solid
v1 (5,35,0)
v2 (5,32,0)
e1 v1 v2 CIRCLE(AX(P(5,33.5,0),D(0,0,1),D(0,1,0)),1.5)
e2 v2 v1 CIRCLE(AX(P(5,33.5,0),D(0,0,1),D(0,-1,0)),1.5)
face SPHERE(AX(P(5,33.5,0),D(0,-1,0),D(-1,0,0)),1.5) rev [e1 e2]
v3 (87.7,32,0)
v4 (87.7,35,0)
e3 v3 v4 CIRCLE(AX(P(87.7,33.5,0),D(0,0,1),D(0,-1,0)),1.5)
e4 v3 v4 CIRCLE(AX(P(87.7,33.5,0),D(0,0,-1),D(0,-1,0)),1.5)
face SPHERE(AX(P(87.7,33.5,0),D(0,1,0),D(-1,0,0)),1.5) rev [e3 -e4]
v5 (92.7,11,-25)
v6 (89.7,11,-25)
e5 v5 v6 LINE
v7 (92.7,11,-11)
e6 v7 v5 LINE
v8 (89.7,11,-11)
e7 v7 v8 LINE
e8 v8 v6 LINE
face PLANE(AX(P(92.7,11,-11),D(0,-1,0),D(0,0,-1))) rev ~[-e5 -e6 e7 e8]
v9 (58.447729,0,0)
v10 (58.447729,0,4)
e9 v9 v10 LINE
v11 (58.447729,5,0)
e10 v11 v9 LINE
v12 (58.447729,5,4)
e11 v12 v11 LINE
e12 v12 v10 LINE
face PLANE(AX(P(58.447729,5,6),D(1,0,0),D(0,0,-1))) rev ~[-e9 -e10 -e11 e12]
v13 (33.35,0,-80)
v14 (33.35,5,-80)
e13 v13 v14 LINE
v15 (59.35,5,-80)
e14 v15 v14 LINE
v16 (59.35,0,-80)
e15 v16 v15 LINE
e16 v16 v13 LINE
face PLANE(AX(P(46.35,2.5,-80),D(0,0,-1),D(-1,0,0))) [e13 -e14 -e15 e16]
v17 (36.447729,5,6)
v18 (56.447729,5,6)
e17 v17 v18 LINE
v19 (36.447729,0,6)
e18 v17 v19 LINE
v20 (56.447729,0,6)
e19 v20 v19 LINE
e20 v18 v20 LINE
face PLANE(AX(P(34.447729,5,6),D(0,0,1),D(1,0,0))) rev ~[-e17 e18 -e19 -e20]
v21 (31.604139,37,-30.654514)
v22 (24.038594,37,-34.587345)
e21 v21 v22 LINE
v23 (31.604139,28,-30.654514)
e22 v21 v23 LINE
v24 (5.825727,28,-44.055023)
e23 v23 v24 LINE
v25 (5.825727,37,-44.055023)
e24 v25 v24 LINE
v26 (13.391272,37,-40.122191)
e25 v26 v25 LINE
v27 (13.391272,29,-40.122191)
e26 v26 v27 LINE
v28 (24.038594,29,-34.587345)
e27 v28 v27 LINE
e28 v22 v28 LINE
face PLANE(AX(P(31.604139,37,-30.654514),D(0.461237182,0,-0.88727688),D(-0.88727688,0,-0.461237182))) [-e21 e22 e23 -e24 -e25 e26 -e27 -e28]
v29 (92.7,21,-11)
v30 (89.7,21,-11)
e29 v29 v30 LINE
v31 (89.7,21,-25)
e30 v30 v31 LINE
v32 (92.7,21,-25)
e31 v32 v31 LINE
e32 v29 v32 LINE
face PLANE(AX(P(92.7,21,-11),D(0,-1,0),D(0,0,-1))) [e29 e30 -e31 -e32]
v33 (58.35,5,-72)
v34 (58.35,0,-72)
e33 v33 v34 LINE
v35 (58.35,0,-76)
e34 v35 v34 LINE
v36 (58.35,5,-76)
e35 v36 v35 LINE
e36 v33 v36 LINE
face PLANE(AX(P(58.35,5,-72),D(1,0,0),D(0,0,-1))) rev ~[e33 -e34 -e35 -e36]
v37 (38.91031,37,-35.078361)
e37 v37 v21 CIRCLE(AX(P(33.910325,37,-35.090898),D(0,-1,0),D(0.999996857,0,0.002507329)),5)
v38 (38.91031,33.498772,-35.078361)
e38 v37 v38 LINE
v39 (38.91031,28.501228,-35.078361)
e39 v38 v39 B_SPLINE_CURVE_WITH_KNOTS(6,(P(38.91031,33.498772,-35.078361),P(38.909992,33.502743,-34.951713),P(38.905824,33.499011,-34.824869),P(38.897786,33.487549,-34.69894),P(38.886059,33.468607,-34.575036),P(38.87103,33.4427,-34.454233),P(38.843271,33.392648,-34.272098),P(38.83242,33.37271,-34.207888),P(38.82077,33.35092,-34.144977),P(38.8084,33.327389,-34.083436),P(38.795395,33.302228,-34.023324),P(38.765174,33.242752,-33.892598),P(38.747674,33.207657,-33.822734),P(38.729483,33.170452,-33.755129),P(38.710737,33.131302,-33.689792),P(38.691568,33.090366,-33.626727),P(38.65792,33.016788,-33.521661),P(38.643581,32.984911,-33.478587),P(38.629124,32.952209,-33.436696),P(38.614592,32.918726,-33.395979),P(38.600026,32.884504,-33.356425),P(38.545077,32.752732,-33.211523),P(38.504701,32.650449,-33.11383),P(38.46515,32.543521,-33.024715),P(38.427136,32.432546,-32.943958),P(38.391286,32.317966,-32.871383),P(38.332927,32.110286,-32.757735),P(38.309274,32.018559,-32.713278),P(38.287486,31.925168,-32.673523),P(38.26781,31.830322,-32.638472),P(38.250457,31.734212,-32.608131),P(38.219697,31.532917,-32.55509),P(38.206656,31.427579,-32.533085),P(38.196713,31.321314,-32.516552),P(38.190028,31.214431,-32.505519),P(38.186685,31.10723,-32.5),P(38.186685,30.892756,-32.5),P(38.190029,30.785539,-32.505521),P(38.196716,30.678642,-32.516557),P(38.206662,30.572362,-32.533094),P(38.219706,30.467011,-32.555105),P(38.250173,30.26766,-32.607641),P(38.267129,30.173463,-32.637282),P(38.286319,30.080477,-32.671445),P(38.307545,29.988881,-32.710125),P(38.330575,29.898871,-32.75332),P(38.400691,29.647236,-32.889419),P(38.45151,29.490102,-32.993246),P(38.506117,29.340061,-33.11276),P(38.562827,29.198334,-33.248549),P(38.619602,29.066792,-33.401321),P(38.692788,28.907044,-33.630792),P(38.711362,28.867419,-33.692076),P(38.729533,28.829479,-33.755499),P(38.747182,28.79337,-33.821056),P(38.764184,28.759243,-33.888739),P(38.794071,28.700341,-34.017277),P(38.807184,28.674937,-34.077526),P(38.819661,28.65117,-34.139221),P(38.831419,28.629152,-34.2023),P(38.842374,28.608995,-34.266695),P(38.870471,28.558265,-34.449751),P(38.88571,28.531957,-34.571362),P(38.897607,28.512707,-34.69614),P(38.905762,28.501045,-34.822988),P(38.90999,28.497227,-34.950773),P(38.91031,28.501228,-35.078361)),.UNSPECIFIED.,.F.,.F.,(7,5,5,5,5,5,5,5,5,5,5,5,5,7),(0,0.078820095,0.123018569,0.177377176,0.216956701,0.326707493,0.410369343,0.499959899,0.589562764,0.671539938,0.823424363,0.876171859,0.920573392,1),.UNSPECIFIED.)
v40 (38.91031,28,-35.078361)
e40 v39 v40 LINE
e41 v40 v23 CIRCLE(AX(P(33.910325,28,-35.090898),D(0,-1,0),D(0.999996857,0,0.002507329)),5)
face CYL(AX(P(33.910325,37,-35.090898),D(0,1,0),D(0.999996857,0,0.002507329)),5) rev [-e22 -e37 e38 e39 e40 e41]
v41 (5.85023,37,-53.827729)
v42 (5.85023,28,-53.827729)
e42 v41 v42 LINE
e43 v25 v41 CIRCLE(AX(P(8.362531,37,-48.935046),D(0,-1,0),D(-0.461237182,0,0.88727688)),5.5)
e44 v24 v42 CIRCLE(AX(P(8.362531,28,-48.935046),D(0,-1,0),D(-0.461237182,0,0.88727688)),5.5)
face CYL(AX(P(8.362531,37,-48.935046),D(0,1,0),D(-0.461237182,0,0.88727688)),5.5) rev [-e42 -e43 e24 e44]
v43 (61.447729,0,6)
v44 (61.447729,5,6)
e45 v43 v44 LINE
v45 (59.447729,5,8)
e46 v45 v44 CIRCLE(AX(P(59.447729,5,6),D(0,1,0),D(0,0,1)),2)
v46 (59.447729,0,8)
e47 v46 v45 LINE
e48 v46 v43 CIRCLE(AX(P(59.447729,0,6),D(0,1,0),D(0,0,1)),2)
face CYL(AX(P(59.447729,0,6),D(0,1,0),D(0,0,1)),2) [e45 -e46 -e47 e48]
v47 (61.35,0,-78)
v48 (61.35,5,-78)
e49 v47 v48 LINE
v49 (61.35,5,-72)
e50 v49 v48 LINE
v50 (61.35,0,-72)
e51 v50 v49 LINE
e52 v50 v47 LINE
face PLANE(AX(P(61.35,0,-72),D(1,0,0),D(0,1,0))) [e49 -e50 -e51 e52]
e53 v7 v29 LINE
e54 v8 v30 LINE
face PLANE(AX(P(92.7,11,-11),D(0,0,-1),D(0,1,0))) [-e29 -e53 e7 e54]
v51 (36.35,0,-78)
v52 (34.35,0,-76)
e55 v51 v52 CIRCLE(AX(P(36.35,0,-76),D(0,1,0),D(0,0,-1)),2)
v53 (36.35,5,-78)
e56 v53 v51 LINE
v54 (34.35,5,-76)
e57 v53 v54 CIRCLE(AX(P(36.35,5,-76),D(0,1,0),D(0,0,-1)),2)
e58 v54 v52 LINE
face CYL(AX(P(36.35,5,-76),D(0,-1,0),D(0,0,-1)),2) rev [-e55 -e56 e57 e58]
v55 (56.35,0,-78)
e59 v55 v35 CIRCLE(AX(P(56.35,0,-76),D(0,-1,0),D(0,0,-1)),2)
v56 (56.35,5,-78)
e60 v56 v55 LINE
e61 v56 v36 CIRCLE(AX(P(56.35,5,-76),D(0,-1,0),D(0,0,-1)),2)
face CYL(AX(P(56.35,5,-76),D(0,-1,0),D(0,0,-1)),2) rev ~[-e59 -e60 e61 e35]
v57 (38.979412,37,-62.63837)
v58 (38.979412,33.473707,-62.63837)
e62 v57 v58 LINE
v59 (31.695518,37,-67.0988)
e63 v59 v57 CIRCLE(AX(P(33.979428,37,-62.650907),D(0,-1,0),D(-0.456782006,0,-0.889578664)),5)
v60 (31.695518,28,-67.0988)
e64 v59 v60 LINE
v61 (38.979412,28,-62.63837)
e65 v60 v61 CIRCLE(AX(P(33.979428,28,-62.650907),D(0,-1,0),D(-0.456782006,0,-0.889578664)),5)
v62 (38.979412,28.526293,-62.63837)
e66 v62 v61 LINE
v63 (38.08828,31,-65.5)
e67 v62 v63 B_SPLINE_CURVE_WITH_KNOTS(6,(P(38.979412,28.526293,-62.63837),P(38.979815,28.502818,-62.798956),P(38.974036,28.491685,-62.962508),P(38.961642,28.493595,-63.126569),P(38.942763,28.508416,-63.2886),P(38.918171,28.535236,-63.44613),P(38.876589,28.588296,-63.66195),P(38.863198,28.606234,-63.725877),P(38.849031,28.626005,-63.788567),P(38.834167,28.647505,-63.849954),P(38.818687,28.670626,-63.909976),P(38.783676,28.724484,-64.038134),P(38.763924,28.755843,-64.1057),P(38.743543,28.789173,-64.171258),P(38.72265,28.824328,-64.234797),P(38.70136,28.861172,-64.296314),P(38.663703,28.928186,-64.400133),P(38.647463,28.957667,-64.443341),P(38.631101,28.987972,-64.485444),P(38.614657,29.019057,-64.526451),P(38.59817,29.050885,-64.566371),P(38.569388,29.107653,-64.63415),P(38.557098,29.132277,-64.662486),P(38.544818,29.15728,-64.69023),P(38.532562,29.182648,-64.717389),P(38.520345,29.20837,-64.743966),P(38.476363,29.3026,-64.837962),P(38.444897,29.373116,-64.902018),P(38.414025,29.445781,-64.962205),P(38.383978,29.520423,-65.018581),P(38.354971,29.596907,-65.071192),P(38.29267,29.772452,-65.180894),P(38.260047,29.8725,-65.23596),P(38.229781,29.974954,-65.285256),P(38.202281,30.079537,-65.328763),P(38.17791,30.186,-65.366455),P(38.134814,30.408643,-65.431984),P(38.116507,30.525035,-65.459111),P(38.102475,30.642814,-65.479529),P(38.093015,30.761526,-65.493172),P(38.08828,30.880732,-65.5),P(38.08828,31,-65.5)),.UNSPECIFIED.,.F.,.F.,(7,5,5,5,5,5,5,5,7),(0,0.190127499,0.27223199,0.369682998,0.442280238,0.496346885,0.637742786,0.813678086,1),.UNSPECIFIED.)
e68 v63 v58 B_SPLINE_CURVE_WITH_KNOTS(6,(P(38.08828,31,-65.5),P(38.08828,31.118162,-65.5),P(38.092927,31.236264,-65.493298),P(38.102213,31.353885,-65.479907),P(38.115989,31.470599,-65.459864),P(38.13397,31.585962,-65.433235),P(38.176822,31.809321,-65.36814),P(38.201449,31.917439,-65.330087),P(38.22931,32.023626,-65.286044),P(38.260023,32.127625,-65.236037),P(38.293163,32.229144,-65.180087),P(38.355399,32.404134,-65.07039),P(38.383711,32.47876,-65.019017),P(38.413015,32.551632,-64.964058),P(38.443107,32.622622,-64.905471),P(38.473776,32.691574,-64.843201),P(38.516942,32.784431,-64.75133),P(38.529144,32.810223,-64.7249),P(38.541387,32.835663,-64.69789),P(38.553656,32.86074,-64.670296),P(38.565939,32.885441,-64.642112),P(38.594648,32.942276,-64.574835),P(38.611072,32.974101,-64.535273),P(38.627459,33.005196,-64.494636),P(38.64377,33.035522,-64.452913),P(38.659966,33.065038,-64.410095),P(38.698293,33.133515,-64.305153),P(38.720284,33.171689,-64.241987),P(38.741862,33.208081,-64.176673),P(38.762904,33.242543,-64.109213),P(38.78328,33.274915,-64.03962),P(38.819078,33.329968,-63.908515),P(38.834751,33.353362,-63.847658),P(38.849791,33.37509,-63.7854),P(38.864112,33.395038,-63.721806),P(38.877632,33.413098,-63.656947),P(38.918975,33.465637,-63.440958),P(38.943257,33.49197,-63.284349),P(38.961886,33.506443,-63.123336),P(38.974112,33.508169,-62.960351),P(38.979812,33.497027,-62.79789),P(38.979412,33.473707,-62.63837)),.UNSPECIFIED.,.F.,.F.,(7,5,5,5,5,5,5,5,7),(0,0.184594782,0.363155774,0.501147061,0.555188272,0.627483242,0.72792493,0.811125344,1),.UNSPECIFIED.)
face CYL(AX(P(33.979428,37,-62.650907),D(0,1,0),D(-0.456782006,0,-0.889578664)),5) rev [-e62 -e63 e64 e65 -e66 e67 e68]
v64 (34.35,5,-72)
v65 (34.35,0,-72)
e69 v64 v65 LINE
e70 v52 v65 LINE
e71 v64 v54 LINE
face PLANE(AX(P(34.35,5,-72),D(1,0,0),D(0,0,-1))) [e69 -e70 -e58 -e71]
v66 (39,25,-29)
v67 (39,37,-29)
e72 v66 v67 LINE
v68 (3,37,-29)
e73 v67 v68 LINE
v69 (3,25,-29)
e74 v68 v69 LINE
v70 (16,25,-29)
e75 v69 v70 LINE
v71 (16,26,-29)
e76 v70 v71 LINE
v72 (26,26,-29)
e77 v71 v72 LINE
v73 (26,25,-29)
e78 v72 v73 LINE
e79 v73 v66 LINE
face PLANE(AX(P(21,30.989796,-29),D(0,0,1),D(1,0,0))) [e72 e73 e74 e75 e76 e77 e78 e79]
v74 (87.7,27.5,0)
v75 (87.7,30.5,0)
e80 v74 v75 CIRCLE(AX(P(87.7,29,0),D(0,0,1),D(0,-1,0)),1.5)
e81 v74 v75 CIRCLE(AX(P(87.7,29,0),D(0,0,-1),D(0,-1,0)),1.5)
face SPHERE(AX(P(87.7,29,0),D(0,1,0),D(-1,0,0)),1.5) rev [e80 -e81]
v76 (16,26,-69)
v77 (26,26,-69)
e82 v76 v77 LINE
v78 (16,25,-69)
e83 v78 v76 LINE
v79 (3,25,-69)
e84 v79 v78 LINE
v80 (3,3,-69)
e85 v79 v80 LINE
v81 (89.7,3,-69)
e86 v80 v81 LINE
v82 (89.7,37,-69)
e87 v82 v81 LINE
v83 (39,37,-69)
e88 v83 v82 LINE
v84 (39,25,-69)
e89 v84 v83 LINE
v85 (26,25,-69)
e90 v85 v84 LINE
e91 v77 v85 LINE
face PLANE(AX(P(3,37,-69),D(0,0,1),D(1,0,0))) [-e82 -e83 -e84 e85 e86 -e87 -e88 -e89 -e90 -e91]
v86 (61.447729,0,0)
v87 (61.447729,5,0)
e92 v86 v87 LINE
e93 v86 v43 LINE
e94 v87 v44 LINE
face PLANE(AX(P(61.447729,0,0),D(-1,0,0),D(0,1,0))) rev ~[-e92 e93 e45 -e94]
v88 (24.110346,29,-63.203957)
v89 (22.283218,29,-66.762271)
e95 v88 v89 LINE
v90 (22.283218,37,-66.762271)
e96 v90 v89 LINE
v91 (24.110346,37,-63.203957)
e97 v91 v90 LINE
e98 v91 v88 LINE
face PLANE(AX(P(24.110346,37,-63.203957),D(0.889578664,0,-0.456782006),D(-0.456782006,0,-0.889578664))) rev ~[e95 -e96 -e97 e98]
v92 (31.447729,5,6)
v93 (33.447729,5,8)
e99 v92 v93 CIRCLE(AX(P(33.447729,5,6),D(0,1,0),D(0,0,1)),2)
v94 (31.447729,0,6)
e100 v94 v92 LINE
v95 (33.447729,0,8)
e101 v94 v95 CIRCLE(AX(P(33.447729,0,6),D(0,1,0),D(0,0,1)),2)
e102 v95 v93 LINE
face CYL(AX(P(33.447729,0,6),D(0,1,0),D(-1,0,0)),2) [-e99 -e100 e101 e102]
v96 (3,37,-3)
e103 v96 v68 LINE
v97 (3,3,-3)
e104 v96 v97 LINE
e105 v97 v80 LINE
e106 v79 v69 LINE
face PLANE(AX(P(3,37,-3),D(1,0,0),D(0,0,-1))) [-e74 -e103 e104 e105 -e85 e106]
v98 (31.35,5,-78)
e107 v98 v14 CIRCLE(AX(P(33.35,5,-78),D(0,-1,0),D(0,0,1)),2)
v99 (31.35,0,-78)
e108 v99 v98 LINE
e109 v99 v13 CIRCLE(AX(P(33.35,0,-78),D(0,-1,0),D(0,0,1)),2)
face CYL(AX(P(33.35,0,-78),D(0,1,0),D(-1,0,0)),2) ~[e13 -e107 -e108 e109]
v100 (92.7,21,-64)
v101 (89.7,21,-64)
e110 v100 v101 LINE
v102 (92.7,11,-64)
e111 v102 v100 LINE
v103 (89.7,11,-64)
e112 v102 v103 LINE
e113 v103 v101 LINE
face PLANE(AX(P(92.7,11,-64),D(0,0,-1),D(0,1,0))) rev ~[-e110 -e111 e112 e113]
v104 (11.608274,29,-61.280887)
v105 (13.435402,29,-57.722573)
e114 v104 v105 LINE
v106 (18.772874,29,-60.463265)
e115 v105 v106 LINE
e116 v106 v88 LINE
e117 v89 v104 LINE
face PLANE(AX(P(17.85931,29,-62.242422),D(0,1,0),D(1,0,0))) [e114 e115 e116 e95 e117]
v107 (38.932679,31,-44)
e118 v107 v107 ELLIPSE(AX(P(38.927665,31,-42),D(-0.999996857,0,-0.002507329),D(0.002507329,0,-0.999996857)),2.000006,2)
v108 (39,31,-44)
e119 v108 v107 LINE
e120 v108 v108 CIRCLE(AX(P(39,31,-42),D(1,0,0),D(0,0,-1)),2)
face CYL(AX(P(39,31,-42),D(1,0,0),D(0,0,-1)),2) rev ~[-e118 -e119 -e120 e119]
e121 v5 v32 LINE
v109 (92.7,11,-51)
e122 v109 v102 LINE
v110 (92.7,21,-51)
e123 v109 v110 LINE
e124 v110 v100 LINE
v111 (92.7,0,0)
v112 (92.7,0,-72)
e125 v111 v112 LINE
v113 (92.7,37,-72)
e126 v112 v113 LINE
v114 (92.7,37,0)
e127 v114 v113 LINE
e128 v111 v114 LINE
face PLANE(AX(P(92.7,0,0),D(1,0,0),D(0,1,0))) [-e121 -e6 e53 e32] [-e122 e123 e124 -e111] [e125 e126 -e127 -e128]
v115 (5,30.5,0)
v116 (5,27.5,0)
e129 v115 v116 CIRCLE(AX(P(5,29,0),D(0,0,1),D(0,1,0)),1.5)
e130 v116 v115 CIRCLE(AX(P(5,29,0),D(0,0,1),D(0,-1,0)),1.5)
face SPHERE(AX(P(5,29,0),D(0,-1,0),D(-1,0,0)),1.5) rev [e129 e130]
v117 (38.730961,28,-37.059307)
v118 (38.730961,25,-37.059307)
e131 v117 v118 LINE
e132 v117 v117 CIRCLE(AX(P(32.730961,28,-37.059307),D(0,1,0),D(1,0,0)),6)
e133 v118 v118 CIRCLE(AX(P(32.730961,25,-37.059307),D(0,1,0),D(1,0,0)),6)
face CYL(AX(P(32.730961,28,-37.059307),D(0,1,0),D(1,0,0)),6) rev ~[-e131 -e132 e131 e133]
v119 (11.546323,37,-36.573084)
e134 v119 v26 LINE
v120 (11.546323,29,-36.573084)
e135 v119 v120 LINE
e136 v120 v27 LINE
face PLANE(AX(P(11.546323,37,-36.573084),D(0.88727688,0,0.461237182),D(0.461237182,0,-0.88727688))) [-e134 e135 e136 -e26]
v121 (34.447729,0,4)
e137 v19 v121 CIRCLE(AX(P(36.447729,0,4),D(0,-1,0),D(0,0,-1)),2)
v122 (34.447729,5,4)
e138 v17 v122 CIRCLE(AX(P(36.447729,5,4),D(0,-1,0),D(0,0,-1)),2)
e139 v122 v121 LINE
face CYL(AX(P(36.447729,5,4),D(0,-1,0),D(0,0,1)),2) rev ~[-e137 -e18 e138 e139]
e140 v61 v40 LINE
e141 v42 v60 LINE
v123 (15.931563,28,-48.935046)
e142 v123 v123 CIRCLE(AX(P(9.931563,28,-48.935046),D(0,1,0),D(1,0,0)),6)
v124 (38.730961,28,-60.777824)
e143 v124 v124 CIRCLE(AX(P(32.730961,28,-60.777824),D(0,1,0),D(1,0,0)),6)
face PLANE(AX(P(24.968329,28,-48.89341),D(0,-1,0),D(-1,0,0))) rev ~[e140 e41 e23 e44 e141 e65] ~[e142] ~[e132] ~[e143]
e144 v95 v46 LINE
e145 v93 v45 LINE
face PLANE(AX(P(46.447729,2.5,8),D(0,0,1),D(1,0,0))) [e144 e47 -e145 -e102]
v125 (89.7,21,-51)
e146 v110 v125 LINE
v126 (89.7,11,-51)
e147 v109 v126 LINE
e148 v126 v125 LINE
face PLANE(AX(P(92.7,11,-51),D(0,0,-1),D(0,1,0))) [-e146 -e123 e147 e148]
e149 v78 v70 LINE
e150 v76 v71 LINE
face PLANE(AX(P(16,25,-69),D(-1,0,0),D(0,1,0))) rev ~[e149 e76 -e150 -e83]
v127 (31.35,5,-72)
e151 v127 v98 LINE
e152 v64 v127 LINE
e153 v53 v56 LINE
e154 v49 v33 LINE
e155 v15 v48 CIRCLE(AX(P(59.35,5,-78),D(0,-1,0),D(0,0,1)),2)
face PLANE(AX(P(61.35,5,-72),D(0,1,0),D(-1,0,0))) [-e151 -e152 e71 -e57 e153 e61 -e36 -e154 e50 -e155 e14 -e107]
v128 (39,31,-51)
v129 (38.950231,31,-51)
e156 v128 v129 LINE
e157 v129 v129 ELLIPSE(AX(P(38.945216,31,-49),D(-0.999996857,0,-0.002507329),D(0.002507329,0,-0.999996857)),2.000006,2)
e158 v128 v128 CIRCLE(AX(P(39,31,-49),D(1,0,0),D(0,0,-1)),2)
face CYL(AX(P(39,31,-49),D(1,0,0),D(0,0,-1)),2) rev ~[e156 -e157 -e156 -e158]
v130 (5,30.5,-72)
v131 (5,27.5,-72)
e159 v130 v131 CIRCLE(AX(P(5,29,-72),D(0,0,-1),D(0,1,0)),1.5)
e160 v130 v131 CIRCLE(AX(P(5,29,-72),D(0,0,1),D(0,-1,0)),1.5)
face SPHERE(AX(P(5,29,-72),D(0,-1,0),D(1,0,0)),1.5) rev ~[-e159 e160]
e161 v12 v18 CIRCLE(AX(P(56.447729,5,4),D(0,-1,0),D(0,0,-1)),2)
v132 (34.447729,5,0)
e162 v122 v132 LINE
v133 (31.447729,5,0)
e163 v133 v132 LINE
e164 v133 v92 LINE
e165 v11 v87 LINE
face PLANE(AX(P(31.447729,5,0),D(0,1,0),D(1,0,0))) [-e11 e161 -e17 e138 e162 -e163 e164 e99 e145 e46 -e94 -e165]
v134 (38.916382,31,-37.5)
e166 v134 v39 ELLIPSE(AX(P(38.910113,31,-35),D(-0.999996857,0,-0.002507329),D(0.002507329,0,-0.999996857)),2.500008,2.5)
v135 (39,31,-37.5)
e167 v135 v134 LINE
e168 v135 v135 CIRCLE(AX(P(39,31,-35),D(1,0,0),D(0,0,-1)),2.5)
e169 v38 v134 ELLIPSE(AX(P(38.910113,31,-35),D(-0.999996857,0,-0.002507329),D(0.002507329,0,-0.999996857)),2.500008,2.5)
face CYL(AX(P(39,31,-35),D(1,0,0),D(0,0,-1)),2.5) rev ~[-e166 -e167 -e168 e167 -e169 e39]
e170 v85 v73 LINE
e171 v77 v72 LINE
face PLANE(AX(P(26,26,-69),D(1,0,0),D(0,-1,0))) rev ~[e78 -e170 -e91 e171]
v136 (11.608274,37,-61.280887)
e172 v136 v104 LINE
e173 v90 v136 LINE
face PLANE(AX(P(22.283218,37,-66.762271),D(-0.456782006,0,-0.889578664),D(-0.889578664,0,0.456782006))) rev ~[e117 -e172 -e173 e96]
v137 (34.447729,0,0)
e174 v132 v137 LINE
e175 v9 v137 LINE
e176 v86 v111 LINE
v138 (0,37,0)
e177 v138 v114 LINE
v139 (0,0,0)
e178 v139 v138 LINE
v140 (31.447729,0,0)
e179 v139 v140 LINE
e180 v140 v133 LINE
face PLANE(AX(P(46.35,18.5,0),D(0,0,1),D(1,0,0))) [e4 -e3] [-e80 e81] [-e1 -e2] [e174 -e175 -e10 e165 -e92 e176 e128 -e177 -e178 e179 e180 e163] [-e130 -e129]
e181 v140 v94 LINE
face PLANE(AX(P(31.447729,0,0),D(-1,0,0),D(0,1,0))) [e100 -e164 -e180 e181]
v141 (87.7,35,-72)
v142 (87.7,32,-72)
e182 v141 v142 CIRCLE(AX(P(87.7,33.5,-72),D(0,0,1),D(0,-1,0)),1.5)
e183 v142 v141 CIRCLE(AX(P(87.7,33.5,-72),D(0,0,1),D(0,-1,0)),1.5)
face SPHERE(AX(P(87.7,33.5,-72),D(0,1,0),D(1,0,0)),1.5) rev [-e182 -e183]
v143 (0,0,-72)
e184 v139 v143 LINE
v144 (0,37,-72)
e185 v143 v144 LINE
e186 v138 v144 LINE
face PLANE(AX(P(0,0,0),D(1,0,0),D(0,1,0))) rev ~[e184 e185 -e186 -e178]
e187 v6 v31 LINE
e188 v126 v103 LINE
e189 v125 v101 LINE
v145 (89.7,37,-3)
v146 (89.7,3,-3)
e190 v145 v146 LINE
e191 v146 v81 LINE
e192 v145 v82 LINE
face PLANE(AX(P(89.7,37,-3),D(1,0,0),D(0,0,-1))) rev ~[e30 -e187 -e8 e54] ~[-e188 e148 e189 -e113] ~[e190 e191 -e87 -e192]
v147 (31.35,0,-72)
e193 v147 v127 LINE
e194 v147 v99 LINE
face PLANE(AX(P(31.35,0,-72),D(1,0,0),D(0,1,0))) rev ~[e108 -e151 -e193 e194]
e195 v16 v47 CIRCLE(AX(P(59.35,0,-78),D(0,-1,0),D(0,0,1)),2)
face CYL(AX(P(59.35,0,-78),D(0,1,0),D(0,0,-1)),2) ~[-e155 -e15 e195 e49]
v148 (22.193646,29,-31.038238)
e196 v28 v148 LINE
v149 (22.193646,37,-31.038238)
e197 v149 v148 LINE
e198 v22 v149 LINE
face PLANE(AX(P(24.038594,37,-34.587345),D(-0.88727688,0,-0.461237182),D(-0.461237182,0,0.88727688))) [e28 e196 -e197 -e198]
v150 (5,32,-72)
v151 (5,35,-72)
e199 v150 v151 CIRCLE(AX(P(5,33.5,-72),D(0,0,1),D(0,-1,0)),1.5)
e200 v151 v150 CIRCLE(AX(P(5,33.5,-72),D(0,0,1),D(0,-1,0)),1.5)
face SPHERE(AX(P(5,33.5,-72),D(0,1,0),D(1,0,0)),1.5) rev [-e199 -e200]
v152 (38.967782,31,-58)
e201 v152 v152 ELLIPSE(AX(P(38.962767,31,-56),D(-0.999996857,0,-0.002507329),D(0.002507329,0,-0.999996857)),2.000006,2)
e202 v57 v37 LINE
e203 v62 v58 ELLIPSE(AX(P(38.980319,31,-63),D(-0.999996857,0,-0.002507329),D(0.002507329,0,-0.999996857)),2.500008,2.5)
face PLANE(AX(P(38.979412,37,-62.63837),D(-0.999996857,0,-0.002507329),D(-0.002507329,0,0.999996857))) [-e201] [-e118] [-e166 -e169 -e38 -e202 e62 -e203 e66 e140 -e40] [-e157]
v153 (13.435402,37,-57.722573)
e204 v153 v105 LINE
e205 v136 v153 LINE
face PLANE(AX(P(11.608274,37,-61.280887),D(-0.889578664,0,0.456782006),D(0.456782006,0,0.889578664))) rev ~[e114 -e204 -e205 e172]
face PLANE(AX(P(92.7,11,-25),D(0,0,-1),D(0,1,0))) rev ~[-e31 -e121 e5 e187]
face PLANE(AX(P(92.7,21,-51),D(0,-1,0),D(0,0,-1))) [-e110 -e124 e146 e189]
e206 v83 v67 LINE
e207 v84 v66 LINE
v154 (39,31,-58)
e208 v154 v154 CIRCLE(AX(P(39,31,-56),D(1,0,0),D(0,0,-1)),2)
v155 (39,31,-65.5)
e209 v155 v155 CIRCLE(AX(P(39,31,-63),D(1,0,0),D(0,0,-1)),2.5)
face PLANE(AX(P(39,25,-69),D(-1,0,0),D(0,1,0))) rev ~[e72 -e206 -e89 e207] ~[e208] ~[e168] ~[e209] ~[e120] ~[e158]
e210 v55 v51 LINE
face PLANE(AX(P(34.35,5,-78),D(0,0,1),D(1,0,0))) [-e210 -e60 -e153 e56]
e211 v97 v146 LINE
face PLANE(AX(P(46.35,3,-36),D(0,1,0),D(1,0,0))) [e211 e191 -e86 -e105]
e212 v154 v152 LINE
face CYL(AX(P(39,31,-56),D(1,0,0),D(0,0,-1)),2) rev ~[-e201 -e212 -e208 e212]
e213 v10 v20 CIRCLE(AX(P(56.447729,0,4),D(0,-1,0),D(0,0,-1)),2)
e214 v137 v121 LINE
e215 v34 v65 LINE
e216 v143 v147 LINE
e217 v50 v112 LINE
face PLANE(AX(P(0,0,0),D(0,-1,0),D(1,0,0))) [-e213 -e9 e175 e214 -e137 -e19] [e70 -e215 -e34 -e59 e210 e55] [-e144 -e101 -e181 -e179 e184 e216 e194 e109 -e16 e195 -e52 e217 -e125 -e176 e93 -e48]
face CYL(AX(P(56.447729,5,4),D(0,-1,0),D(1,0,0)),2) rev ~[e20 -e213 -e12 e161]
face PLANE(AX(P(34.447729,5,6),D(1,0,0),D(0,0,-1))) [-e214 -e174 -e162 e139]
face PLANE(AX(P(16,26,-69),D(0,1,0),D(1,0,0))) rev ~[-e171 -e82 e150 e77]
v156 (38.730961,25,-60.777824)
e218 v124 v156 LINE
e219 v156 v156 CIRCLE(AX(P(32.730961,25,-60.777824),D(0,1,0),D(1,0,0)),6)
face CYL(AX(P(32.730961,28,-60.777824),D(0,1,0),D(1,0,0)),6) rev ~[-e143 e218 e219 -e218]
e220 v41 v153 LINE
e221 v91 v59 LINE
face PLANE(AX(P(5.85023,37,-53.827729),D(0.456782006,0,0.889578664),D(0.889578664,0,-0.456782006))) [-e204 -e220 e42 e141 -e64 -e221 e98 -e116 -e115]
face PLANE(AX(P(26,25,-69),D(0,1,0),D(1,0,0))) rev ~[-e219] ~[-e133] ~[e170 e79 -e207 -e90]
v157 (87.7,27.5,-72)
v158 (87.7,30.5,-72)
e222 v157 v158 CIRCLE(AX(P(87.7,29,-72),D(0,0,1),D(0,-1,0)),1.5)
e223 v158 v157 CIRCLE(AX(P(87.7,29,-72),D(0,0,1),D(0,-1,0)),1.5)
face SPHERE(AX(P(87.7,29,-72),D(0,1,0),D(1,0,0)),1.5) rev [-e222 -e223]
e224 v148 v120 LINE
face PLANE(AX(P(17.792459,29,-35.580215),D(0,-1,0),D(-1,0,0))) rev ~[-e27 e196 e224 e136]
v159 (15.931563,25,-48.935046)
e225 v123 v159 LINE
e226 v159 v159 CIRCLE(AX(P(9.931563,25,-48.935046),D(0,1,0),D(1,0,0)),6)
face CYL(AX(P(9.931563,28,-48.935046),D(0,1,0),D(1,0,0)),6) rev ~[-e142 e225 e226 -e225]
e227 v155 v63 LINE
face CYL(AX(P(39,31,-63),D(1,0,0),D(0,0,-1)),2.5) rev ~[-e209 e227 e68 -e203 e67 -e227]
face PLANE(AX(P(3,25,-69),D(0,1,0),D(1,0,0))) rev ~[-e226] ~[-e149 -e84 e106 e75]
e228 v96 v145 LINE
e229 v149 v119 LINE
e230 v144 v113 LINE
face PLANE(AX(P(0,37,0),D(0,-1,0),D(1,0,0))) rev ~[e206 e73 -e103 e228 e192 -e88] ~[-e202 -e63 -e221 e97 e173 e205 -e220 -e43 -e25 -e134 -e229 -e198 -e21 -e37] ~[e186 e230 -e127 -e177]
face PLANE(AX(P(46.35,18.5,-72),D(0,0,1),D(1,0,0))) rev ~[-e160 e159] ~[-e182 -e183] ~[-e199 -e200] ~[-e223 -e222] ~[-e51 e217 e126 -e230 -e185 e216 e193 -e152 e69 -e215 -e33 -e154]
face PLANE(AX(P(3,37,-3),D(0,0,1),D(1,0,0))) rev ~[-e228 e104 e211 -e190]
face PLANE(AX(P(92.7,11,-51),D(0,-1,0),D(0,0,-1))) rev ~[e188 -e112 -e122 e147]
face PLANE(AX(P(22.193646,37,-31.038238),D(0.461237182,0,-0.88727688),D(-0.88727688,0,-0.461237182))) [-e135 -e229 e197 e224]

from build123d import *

# Parameters (mm, degrees)
SKETCH1_W           = 92.7
SKETCH1_H           = 37
BOSS_EXTRUDE1_DEPTH = 72
SKETCH3_W           = 86.7
SKETCH3_H           = 66
CUT_EXTRUDE1_DEPTH  = 34
SKETCH6_W           = 13
SKETCH6_H           = 10
SKETCH6_W_2         = 14
CUT_EXTRUDE2_DEPTH  = 3
SKETCH8_W           = 30
SKETCH8_H           = 5
BOSS_EXTRUDE2_DEPTH = 8
SKETCH9_W           = 24
SKETCH9_H           = 6
CUT_EXTRUDE3_DEPTH  = 8
FILLET3_R           = 2
FILLET4_R           = 2
SKETCH10_W          = 30
SKETCH10_H          = 5
BOSS_EXTRUDE3_DEPTH = 8
SKETCH11_W          = 24
SKETCH11_H          = 6
CUT_EXTRUDE4_DEPTH  = 8
FILLET5_R           = 2
BOSS_EXTRUDE4_DEPTH = 40
CUT_EXTRUDE5_DEPTH  = 9
SKETCH15_R          = 6
CUT_EXTRUDE6_DEPTH  = 12
CUT_EXTRUDE7_DEPTH  = 8
SKETCH26_R          = 2
SKETCH26_R_2        = 2.5
CUT_EXTRUDE8_DEPTH  = 1


with BuildPart() as part:
    # Sketch1 → Boss-Extrude1 (new body)
    with BuildSketch(Plane.XY):
        with Locations((46.35, 18.5)):
            Rectangle(SKETCH1_W, SKETCH1_H)
    extrude(amount=-BOSS_EXTRUDE1_DEPTH)

    # Sketch3 → Cut-Extrude1 (cut)
    with BuildSketch(Plane(origin=(0, 37, 0), x_dir=(1, 0, 0), z_dir=(0, 1, 0))):
        with Locations((46.35, 36)):
            Rectangle(SKETCH3_W, SKETCH3_H)
    extrude(amount=-CUT_EXTRUDE1_DEPTH, mode=Mode.SUBTRACT)

    # Sketch6 → Cut-Extrude2 (cut)
    with BuildSketch(Plane(origin=(92.7, 0, 0), x_dir=(0, 0, -1), z_dir=(1, 0, 0))):
        with Locations((57.5, 16)):
            Rectangle(SKETCH6_W, SKETCH6_H)
        with Locations((18, 16)):
            Rectangle(SKETCH6_W_2, SKETCH6_H)
    extrude(amount=-CUT_EXTRUDE2_DEPTH, mode=Mode.SUBTRACT)

    # Sketch8 → Boss-Extrude2 (add)
    with BuildSketch(Plane.XY):
        with Locations((46.447728755, 2.5)):
            Rectangle(SKETCH8_W, SKETCH8_H)
    extrude(amount=BOSS_EXTRUDE2_DEPTH)

    # Sketch9 → Cut-Extrude3 (cut)
    with BuildSketch(Plane(origin=(0, 5, 0), x_dir=(1, 0, 0), z_dir=(0, 1, 0))):
        with Locations((46.447728755, -3)):
            Rectangle(SKETCH9_W, SKETCH9_H)
    extrude(amount=-CUT_EXTRUDE3_DEPTH, mode=Mode.SUBTRACT)

    # Fillet3
    fillet3_edges = [part.edges().sort_by_distance(p)[0] for p in [
        (31.447728755, 2.5, 8),
        (61.447728755, 2.5, 8),
    ]]
    fillet(fillet3_edges, radius=FILLET3_R)

    # Fillet4
    fillet4_edges = [part.edges().sort_by_distance(p)[0] for p in [
        (58.447728755, 2.5, 6),
        (34.447728755, 2.5, 6),
    ]]
    fillet(fillet4_edges, radius=FILLET4_R)

    # Sketch10 → Boss-Extrude3 (add)
    with BuildSketch(Plane(origin=(0, 0, -72), x_dir=(-1, 0, 0), z_dir=(0, 0, -1))):
        with Locations((-46.35, 2.5)):
            Rectangle(SKETCH10_W, SKETCH10_H)
    extrude(amount=BOSS_EXTRUDE3_DEPTH)

    # Sketch11 → Cut-Extrude4 (cut)
    with BuildSketch(Plane(origin=(0, 5, 0), x_dir=(1, 0, 0), z_dir=(0, 1, 0))):
        with Locations((46.35, 75)):
            Rectangle(SKETCH11_W, SKETCH11_H)
    extrude(amount=-CUT_EXTRUDE4_DEPTH, mode=Mode.SUBTRACT)

    # Fillet5
    fillet5_edges = [part.edges().sort_by_distance(p)[0] for p in [
        (34.35, 2.5, -78),
        (58.35, 2.5, -78),
        (61.35, 2.5, -80),
        (31.35, 2.5, -80),
    ]]
    fillet(fillet5_edges, radius=FILLET5_R)

    # Sketch13 → Boss-Extrude4 (add)
    with BuildSketch(Plane.XY.offset(-69)):
        Polygon((3, 37), (3, 25), (16, 25), (16, 26), (26, 26), (26, 25), (39, 25), (39, 37), align=None)
    extrude(amount=BOSS_EXTRUDE4_DEPTH)

    # Sketch14 → Cut-Extrude5 (cut)
    with BuildSketch(Plane(origin=(0, 37, 0), x_dir=(1, 0, 0), z_dir=(0, 1, 0))):
        with BuildLine():
            Line((31.604139479, 30.654513564), (5.825726754, 44.05502325))
            ThreePointArc((5.825726754, 44.05502325), (2.862548541, 48.948836401), (5.850230218, 53.827728742))
            Line((5.850230218, 53.827728742), (31.695517579, 67.098800427))
            ThreePointArc((31.695517579, 67.098800427), (36.590581321, 66.914928251), (38.979411894, 62.638370465))
            Line((38.979411894, 62.638370465), (38.91030967, 35.078361321))
            ThreePointArc((38.91030967, 35.078361321), (36.500063726, 30.813836436), (31.604139479, 30.654513564))
        make_face()
    extrude(amount=-CUT_EXTRUDE5_DEPTH, mode=Mode.SUBTRACT)

    # Sketch15 → Cut-Extrude6 (cut)
    with BuildSketch(Plane(origin=(0, 28, 0), x_dir=(1, 0, 0), z_dir=(0, 1, 0))):
        with Locations((32.730960784, 37.059306593)):
            Circle(SKETCH15_R)
        with Locations((32.730960784, 60.777824087)):
            Circle(SKETCH15_R)
        with Locations((9.931562791, 48.935046092)):
            Circle(SKETCH15_R)
    extrude(amount=-CUT_EXTRUDE6_DEPTH, mode=Mode.SUBTRACT)

    # Sketch17 → Cut-Extrude7 (cut)
    with BuildSketch(Plane(origin=(0, 37, 0), x_dir=(1, 0, 0), z_dir=(0, 1, 0))):
        Polygon((18.772873899, 60.463264585), (24.11034588, 63.203956622), (22.283217855, 66.762271277), (11.608273892, 61.280887201), (13.435401917, 57.722572547), align=None)
        Polygon((18.714933117, 37.354768407), (24.038594399, 34.587345318), (22.193645673, 31.038237797), (11.546323109, 36.573083975), (13.391271835, 40.122191496), align=None)
    extrude(amount=-CUT_EXTRUDE7_DEPTH, mode=Mode.SUBTRACT)

    # Sketch20 → Cut-Revolve1 (revolve, cut)
    with BuildSketch(Plane.XY):
        with BuildLine():
            ThreePointArc((5, 35), (3.5, 33.5), (5, 32))
            Line((5, 32), (5, 35))
        make_face()
        with BuildLine():
            Line((5, 27.5), (5, 30.5))
            ThreePointArc((5, 30.5), (3.5, 29), (5, 27.5))
        make_face()
    revolve(axis=Axis((5, 32, 0), (0, 1, 0)), mode=Mode.SUBTRACT)

    # Sketch22 → Cut-Revolve2 (revolve, cut)
    with BuildSketch(Plane.XY):
        with BuildLine():
            Line((87.7, 35), (87.7, 32))
            ThreePointArc((87.7, 32), (86.2, 33.5), (87.7, 35))
        make_face()
        with BuildLine():
            Line((87.7, 30.5), (87.7, 27.5))
            ThreePointArc((87.7, 27.5), (86.2, 29), (87.7, 30.5))
        make_face()
    revolve(axis=Axis((87.7, 35, 0), (0, -1, 0)), mode=Mode.SUBTRACT)

    # Sketch23 → Cut-Revolve8 (revolve, cut)
    with BuildSketch(Plane(origin=(0, 0, -72), x_dir=(-1, 0, 0), z_dir=(0, 0, -1))):
        with BuildLine():
            Line((-87.7, 35), (-87.7, 32))
            ThreePointArc((-87.7, 32), (-89.2, 33.5), (-87.7, 35))
        make_face()
        with BuildLine():
            Line((-87.7, 30.5), (-87.7, 27.5))
            ThreePointArc((-87.7, 27.5), (-89.2, 29), (-87.7, 30.5))
        make_face()
    revolve(axis=Axis((87.7, 35, -72), (0, -1, 0)), mode=Mode.SUBTRACT)

    # Sketch24 → Cut-Revolve9 (revolve, cut)
    with BuildSketch(Plane(origin=(0, 0, -72), x_dir=(-1, 0, 0), z_dir=(0, 0, -1))):
        with BuildLine():
            Line((-5, 35), (-5, 32))
            ThreePointArc((-5, 32), (-6.5, 33.5), (-5, 35))
        make_face()
        with BuildLine():
            Line((-5, 27.5), (-5, 30.5))
            ThreePointArc((-5, 30.5), (-6.5, 29), (-5, 27.5))
        make_face()
    revolve(axis=Axis((5, 35, -72), (0, -1, 0)), mode=Mode.SUBTRACT)

    # Sketch26 → Cut-Extrude8 (cut)
    with BuildSketch(Plane(origin=(39, 0, 0), x_dir=(0, 0, -1), z_dir=(1, 0, 0))):
        with Locations((49, 31)):
            Circle(SKETCH26_R)
        with Locations((56, 31)):
            Circle(SKETCH26_R)
        with Locations((42, 31)):
            Circle(SKETCH26_R)
        with Locations((35, 31)):
            Circle(SKETCH26_R_2)
        with Locations((63, 31)):
            Circle(SKETCH26_R_2)
    extrude(amount=-CUT_EXTRUDE8_DEPTH, mode=Mode.SUBTRACT)


solid = part.part
